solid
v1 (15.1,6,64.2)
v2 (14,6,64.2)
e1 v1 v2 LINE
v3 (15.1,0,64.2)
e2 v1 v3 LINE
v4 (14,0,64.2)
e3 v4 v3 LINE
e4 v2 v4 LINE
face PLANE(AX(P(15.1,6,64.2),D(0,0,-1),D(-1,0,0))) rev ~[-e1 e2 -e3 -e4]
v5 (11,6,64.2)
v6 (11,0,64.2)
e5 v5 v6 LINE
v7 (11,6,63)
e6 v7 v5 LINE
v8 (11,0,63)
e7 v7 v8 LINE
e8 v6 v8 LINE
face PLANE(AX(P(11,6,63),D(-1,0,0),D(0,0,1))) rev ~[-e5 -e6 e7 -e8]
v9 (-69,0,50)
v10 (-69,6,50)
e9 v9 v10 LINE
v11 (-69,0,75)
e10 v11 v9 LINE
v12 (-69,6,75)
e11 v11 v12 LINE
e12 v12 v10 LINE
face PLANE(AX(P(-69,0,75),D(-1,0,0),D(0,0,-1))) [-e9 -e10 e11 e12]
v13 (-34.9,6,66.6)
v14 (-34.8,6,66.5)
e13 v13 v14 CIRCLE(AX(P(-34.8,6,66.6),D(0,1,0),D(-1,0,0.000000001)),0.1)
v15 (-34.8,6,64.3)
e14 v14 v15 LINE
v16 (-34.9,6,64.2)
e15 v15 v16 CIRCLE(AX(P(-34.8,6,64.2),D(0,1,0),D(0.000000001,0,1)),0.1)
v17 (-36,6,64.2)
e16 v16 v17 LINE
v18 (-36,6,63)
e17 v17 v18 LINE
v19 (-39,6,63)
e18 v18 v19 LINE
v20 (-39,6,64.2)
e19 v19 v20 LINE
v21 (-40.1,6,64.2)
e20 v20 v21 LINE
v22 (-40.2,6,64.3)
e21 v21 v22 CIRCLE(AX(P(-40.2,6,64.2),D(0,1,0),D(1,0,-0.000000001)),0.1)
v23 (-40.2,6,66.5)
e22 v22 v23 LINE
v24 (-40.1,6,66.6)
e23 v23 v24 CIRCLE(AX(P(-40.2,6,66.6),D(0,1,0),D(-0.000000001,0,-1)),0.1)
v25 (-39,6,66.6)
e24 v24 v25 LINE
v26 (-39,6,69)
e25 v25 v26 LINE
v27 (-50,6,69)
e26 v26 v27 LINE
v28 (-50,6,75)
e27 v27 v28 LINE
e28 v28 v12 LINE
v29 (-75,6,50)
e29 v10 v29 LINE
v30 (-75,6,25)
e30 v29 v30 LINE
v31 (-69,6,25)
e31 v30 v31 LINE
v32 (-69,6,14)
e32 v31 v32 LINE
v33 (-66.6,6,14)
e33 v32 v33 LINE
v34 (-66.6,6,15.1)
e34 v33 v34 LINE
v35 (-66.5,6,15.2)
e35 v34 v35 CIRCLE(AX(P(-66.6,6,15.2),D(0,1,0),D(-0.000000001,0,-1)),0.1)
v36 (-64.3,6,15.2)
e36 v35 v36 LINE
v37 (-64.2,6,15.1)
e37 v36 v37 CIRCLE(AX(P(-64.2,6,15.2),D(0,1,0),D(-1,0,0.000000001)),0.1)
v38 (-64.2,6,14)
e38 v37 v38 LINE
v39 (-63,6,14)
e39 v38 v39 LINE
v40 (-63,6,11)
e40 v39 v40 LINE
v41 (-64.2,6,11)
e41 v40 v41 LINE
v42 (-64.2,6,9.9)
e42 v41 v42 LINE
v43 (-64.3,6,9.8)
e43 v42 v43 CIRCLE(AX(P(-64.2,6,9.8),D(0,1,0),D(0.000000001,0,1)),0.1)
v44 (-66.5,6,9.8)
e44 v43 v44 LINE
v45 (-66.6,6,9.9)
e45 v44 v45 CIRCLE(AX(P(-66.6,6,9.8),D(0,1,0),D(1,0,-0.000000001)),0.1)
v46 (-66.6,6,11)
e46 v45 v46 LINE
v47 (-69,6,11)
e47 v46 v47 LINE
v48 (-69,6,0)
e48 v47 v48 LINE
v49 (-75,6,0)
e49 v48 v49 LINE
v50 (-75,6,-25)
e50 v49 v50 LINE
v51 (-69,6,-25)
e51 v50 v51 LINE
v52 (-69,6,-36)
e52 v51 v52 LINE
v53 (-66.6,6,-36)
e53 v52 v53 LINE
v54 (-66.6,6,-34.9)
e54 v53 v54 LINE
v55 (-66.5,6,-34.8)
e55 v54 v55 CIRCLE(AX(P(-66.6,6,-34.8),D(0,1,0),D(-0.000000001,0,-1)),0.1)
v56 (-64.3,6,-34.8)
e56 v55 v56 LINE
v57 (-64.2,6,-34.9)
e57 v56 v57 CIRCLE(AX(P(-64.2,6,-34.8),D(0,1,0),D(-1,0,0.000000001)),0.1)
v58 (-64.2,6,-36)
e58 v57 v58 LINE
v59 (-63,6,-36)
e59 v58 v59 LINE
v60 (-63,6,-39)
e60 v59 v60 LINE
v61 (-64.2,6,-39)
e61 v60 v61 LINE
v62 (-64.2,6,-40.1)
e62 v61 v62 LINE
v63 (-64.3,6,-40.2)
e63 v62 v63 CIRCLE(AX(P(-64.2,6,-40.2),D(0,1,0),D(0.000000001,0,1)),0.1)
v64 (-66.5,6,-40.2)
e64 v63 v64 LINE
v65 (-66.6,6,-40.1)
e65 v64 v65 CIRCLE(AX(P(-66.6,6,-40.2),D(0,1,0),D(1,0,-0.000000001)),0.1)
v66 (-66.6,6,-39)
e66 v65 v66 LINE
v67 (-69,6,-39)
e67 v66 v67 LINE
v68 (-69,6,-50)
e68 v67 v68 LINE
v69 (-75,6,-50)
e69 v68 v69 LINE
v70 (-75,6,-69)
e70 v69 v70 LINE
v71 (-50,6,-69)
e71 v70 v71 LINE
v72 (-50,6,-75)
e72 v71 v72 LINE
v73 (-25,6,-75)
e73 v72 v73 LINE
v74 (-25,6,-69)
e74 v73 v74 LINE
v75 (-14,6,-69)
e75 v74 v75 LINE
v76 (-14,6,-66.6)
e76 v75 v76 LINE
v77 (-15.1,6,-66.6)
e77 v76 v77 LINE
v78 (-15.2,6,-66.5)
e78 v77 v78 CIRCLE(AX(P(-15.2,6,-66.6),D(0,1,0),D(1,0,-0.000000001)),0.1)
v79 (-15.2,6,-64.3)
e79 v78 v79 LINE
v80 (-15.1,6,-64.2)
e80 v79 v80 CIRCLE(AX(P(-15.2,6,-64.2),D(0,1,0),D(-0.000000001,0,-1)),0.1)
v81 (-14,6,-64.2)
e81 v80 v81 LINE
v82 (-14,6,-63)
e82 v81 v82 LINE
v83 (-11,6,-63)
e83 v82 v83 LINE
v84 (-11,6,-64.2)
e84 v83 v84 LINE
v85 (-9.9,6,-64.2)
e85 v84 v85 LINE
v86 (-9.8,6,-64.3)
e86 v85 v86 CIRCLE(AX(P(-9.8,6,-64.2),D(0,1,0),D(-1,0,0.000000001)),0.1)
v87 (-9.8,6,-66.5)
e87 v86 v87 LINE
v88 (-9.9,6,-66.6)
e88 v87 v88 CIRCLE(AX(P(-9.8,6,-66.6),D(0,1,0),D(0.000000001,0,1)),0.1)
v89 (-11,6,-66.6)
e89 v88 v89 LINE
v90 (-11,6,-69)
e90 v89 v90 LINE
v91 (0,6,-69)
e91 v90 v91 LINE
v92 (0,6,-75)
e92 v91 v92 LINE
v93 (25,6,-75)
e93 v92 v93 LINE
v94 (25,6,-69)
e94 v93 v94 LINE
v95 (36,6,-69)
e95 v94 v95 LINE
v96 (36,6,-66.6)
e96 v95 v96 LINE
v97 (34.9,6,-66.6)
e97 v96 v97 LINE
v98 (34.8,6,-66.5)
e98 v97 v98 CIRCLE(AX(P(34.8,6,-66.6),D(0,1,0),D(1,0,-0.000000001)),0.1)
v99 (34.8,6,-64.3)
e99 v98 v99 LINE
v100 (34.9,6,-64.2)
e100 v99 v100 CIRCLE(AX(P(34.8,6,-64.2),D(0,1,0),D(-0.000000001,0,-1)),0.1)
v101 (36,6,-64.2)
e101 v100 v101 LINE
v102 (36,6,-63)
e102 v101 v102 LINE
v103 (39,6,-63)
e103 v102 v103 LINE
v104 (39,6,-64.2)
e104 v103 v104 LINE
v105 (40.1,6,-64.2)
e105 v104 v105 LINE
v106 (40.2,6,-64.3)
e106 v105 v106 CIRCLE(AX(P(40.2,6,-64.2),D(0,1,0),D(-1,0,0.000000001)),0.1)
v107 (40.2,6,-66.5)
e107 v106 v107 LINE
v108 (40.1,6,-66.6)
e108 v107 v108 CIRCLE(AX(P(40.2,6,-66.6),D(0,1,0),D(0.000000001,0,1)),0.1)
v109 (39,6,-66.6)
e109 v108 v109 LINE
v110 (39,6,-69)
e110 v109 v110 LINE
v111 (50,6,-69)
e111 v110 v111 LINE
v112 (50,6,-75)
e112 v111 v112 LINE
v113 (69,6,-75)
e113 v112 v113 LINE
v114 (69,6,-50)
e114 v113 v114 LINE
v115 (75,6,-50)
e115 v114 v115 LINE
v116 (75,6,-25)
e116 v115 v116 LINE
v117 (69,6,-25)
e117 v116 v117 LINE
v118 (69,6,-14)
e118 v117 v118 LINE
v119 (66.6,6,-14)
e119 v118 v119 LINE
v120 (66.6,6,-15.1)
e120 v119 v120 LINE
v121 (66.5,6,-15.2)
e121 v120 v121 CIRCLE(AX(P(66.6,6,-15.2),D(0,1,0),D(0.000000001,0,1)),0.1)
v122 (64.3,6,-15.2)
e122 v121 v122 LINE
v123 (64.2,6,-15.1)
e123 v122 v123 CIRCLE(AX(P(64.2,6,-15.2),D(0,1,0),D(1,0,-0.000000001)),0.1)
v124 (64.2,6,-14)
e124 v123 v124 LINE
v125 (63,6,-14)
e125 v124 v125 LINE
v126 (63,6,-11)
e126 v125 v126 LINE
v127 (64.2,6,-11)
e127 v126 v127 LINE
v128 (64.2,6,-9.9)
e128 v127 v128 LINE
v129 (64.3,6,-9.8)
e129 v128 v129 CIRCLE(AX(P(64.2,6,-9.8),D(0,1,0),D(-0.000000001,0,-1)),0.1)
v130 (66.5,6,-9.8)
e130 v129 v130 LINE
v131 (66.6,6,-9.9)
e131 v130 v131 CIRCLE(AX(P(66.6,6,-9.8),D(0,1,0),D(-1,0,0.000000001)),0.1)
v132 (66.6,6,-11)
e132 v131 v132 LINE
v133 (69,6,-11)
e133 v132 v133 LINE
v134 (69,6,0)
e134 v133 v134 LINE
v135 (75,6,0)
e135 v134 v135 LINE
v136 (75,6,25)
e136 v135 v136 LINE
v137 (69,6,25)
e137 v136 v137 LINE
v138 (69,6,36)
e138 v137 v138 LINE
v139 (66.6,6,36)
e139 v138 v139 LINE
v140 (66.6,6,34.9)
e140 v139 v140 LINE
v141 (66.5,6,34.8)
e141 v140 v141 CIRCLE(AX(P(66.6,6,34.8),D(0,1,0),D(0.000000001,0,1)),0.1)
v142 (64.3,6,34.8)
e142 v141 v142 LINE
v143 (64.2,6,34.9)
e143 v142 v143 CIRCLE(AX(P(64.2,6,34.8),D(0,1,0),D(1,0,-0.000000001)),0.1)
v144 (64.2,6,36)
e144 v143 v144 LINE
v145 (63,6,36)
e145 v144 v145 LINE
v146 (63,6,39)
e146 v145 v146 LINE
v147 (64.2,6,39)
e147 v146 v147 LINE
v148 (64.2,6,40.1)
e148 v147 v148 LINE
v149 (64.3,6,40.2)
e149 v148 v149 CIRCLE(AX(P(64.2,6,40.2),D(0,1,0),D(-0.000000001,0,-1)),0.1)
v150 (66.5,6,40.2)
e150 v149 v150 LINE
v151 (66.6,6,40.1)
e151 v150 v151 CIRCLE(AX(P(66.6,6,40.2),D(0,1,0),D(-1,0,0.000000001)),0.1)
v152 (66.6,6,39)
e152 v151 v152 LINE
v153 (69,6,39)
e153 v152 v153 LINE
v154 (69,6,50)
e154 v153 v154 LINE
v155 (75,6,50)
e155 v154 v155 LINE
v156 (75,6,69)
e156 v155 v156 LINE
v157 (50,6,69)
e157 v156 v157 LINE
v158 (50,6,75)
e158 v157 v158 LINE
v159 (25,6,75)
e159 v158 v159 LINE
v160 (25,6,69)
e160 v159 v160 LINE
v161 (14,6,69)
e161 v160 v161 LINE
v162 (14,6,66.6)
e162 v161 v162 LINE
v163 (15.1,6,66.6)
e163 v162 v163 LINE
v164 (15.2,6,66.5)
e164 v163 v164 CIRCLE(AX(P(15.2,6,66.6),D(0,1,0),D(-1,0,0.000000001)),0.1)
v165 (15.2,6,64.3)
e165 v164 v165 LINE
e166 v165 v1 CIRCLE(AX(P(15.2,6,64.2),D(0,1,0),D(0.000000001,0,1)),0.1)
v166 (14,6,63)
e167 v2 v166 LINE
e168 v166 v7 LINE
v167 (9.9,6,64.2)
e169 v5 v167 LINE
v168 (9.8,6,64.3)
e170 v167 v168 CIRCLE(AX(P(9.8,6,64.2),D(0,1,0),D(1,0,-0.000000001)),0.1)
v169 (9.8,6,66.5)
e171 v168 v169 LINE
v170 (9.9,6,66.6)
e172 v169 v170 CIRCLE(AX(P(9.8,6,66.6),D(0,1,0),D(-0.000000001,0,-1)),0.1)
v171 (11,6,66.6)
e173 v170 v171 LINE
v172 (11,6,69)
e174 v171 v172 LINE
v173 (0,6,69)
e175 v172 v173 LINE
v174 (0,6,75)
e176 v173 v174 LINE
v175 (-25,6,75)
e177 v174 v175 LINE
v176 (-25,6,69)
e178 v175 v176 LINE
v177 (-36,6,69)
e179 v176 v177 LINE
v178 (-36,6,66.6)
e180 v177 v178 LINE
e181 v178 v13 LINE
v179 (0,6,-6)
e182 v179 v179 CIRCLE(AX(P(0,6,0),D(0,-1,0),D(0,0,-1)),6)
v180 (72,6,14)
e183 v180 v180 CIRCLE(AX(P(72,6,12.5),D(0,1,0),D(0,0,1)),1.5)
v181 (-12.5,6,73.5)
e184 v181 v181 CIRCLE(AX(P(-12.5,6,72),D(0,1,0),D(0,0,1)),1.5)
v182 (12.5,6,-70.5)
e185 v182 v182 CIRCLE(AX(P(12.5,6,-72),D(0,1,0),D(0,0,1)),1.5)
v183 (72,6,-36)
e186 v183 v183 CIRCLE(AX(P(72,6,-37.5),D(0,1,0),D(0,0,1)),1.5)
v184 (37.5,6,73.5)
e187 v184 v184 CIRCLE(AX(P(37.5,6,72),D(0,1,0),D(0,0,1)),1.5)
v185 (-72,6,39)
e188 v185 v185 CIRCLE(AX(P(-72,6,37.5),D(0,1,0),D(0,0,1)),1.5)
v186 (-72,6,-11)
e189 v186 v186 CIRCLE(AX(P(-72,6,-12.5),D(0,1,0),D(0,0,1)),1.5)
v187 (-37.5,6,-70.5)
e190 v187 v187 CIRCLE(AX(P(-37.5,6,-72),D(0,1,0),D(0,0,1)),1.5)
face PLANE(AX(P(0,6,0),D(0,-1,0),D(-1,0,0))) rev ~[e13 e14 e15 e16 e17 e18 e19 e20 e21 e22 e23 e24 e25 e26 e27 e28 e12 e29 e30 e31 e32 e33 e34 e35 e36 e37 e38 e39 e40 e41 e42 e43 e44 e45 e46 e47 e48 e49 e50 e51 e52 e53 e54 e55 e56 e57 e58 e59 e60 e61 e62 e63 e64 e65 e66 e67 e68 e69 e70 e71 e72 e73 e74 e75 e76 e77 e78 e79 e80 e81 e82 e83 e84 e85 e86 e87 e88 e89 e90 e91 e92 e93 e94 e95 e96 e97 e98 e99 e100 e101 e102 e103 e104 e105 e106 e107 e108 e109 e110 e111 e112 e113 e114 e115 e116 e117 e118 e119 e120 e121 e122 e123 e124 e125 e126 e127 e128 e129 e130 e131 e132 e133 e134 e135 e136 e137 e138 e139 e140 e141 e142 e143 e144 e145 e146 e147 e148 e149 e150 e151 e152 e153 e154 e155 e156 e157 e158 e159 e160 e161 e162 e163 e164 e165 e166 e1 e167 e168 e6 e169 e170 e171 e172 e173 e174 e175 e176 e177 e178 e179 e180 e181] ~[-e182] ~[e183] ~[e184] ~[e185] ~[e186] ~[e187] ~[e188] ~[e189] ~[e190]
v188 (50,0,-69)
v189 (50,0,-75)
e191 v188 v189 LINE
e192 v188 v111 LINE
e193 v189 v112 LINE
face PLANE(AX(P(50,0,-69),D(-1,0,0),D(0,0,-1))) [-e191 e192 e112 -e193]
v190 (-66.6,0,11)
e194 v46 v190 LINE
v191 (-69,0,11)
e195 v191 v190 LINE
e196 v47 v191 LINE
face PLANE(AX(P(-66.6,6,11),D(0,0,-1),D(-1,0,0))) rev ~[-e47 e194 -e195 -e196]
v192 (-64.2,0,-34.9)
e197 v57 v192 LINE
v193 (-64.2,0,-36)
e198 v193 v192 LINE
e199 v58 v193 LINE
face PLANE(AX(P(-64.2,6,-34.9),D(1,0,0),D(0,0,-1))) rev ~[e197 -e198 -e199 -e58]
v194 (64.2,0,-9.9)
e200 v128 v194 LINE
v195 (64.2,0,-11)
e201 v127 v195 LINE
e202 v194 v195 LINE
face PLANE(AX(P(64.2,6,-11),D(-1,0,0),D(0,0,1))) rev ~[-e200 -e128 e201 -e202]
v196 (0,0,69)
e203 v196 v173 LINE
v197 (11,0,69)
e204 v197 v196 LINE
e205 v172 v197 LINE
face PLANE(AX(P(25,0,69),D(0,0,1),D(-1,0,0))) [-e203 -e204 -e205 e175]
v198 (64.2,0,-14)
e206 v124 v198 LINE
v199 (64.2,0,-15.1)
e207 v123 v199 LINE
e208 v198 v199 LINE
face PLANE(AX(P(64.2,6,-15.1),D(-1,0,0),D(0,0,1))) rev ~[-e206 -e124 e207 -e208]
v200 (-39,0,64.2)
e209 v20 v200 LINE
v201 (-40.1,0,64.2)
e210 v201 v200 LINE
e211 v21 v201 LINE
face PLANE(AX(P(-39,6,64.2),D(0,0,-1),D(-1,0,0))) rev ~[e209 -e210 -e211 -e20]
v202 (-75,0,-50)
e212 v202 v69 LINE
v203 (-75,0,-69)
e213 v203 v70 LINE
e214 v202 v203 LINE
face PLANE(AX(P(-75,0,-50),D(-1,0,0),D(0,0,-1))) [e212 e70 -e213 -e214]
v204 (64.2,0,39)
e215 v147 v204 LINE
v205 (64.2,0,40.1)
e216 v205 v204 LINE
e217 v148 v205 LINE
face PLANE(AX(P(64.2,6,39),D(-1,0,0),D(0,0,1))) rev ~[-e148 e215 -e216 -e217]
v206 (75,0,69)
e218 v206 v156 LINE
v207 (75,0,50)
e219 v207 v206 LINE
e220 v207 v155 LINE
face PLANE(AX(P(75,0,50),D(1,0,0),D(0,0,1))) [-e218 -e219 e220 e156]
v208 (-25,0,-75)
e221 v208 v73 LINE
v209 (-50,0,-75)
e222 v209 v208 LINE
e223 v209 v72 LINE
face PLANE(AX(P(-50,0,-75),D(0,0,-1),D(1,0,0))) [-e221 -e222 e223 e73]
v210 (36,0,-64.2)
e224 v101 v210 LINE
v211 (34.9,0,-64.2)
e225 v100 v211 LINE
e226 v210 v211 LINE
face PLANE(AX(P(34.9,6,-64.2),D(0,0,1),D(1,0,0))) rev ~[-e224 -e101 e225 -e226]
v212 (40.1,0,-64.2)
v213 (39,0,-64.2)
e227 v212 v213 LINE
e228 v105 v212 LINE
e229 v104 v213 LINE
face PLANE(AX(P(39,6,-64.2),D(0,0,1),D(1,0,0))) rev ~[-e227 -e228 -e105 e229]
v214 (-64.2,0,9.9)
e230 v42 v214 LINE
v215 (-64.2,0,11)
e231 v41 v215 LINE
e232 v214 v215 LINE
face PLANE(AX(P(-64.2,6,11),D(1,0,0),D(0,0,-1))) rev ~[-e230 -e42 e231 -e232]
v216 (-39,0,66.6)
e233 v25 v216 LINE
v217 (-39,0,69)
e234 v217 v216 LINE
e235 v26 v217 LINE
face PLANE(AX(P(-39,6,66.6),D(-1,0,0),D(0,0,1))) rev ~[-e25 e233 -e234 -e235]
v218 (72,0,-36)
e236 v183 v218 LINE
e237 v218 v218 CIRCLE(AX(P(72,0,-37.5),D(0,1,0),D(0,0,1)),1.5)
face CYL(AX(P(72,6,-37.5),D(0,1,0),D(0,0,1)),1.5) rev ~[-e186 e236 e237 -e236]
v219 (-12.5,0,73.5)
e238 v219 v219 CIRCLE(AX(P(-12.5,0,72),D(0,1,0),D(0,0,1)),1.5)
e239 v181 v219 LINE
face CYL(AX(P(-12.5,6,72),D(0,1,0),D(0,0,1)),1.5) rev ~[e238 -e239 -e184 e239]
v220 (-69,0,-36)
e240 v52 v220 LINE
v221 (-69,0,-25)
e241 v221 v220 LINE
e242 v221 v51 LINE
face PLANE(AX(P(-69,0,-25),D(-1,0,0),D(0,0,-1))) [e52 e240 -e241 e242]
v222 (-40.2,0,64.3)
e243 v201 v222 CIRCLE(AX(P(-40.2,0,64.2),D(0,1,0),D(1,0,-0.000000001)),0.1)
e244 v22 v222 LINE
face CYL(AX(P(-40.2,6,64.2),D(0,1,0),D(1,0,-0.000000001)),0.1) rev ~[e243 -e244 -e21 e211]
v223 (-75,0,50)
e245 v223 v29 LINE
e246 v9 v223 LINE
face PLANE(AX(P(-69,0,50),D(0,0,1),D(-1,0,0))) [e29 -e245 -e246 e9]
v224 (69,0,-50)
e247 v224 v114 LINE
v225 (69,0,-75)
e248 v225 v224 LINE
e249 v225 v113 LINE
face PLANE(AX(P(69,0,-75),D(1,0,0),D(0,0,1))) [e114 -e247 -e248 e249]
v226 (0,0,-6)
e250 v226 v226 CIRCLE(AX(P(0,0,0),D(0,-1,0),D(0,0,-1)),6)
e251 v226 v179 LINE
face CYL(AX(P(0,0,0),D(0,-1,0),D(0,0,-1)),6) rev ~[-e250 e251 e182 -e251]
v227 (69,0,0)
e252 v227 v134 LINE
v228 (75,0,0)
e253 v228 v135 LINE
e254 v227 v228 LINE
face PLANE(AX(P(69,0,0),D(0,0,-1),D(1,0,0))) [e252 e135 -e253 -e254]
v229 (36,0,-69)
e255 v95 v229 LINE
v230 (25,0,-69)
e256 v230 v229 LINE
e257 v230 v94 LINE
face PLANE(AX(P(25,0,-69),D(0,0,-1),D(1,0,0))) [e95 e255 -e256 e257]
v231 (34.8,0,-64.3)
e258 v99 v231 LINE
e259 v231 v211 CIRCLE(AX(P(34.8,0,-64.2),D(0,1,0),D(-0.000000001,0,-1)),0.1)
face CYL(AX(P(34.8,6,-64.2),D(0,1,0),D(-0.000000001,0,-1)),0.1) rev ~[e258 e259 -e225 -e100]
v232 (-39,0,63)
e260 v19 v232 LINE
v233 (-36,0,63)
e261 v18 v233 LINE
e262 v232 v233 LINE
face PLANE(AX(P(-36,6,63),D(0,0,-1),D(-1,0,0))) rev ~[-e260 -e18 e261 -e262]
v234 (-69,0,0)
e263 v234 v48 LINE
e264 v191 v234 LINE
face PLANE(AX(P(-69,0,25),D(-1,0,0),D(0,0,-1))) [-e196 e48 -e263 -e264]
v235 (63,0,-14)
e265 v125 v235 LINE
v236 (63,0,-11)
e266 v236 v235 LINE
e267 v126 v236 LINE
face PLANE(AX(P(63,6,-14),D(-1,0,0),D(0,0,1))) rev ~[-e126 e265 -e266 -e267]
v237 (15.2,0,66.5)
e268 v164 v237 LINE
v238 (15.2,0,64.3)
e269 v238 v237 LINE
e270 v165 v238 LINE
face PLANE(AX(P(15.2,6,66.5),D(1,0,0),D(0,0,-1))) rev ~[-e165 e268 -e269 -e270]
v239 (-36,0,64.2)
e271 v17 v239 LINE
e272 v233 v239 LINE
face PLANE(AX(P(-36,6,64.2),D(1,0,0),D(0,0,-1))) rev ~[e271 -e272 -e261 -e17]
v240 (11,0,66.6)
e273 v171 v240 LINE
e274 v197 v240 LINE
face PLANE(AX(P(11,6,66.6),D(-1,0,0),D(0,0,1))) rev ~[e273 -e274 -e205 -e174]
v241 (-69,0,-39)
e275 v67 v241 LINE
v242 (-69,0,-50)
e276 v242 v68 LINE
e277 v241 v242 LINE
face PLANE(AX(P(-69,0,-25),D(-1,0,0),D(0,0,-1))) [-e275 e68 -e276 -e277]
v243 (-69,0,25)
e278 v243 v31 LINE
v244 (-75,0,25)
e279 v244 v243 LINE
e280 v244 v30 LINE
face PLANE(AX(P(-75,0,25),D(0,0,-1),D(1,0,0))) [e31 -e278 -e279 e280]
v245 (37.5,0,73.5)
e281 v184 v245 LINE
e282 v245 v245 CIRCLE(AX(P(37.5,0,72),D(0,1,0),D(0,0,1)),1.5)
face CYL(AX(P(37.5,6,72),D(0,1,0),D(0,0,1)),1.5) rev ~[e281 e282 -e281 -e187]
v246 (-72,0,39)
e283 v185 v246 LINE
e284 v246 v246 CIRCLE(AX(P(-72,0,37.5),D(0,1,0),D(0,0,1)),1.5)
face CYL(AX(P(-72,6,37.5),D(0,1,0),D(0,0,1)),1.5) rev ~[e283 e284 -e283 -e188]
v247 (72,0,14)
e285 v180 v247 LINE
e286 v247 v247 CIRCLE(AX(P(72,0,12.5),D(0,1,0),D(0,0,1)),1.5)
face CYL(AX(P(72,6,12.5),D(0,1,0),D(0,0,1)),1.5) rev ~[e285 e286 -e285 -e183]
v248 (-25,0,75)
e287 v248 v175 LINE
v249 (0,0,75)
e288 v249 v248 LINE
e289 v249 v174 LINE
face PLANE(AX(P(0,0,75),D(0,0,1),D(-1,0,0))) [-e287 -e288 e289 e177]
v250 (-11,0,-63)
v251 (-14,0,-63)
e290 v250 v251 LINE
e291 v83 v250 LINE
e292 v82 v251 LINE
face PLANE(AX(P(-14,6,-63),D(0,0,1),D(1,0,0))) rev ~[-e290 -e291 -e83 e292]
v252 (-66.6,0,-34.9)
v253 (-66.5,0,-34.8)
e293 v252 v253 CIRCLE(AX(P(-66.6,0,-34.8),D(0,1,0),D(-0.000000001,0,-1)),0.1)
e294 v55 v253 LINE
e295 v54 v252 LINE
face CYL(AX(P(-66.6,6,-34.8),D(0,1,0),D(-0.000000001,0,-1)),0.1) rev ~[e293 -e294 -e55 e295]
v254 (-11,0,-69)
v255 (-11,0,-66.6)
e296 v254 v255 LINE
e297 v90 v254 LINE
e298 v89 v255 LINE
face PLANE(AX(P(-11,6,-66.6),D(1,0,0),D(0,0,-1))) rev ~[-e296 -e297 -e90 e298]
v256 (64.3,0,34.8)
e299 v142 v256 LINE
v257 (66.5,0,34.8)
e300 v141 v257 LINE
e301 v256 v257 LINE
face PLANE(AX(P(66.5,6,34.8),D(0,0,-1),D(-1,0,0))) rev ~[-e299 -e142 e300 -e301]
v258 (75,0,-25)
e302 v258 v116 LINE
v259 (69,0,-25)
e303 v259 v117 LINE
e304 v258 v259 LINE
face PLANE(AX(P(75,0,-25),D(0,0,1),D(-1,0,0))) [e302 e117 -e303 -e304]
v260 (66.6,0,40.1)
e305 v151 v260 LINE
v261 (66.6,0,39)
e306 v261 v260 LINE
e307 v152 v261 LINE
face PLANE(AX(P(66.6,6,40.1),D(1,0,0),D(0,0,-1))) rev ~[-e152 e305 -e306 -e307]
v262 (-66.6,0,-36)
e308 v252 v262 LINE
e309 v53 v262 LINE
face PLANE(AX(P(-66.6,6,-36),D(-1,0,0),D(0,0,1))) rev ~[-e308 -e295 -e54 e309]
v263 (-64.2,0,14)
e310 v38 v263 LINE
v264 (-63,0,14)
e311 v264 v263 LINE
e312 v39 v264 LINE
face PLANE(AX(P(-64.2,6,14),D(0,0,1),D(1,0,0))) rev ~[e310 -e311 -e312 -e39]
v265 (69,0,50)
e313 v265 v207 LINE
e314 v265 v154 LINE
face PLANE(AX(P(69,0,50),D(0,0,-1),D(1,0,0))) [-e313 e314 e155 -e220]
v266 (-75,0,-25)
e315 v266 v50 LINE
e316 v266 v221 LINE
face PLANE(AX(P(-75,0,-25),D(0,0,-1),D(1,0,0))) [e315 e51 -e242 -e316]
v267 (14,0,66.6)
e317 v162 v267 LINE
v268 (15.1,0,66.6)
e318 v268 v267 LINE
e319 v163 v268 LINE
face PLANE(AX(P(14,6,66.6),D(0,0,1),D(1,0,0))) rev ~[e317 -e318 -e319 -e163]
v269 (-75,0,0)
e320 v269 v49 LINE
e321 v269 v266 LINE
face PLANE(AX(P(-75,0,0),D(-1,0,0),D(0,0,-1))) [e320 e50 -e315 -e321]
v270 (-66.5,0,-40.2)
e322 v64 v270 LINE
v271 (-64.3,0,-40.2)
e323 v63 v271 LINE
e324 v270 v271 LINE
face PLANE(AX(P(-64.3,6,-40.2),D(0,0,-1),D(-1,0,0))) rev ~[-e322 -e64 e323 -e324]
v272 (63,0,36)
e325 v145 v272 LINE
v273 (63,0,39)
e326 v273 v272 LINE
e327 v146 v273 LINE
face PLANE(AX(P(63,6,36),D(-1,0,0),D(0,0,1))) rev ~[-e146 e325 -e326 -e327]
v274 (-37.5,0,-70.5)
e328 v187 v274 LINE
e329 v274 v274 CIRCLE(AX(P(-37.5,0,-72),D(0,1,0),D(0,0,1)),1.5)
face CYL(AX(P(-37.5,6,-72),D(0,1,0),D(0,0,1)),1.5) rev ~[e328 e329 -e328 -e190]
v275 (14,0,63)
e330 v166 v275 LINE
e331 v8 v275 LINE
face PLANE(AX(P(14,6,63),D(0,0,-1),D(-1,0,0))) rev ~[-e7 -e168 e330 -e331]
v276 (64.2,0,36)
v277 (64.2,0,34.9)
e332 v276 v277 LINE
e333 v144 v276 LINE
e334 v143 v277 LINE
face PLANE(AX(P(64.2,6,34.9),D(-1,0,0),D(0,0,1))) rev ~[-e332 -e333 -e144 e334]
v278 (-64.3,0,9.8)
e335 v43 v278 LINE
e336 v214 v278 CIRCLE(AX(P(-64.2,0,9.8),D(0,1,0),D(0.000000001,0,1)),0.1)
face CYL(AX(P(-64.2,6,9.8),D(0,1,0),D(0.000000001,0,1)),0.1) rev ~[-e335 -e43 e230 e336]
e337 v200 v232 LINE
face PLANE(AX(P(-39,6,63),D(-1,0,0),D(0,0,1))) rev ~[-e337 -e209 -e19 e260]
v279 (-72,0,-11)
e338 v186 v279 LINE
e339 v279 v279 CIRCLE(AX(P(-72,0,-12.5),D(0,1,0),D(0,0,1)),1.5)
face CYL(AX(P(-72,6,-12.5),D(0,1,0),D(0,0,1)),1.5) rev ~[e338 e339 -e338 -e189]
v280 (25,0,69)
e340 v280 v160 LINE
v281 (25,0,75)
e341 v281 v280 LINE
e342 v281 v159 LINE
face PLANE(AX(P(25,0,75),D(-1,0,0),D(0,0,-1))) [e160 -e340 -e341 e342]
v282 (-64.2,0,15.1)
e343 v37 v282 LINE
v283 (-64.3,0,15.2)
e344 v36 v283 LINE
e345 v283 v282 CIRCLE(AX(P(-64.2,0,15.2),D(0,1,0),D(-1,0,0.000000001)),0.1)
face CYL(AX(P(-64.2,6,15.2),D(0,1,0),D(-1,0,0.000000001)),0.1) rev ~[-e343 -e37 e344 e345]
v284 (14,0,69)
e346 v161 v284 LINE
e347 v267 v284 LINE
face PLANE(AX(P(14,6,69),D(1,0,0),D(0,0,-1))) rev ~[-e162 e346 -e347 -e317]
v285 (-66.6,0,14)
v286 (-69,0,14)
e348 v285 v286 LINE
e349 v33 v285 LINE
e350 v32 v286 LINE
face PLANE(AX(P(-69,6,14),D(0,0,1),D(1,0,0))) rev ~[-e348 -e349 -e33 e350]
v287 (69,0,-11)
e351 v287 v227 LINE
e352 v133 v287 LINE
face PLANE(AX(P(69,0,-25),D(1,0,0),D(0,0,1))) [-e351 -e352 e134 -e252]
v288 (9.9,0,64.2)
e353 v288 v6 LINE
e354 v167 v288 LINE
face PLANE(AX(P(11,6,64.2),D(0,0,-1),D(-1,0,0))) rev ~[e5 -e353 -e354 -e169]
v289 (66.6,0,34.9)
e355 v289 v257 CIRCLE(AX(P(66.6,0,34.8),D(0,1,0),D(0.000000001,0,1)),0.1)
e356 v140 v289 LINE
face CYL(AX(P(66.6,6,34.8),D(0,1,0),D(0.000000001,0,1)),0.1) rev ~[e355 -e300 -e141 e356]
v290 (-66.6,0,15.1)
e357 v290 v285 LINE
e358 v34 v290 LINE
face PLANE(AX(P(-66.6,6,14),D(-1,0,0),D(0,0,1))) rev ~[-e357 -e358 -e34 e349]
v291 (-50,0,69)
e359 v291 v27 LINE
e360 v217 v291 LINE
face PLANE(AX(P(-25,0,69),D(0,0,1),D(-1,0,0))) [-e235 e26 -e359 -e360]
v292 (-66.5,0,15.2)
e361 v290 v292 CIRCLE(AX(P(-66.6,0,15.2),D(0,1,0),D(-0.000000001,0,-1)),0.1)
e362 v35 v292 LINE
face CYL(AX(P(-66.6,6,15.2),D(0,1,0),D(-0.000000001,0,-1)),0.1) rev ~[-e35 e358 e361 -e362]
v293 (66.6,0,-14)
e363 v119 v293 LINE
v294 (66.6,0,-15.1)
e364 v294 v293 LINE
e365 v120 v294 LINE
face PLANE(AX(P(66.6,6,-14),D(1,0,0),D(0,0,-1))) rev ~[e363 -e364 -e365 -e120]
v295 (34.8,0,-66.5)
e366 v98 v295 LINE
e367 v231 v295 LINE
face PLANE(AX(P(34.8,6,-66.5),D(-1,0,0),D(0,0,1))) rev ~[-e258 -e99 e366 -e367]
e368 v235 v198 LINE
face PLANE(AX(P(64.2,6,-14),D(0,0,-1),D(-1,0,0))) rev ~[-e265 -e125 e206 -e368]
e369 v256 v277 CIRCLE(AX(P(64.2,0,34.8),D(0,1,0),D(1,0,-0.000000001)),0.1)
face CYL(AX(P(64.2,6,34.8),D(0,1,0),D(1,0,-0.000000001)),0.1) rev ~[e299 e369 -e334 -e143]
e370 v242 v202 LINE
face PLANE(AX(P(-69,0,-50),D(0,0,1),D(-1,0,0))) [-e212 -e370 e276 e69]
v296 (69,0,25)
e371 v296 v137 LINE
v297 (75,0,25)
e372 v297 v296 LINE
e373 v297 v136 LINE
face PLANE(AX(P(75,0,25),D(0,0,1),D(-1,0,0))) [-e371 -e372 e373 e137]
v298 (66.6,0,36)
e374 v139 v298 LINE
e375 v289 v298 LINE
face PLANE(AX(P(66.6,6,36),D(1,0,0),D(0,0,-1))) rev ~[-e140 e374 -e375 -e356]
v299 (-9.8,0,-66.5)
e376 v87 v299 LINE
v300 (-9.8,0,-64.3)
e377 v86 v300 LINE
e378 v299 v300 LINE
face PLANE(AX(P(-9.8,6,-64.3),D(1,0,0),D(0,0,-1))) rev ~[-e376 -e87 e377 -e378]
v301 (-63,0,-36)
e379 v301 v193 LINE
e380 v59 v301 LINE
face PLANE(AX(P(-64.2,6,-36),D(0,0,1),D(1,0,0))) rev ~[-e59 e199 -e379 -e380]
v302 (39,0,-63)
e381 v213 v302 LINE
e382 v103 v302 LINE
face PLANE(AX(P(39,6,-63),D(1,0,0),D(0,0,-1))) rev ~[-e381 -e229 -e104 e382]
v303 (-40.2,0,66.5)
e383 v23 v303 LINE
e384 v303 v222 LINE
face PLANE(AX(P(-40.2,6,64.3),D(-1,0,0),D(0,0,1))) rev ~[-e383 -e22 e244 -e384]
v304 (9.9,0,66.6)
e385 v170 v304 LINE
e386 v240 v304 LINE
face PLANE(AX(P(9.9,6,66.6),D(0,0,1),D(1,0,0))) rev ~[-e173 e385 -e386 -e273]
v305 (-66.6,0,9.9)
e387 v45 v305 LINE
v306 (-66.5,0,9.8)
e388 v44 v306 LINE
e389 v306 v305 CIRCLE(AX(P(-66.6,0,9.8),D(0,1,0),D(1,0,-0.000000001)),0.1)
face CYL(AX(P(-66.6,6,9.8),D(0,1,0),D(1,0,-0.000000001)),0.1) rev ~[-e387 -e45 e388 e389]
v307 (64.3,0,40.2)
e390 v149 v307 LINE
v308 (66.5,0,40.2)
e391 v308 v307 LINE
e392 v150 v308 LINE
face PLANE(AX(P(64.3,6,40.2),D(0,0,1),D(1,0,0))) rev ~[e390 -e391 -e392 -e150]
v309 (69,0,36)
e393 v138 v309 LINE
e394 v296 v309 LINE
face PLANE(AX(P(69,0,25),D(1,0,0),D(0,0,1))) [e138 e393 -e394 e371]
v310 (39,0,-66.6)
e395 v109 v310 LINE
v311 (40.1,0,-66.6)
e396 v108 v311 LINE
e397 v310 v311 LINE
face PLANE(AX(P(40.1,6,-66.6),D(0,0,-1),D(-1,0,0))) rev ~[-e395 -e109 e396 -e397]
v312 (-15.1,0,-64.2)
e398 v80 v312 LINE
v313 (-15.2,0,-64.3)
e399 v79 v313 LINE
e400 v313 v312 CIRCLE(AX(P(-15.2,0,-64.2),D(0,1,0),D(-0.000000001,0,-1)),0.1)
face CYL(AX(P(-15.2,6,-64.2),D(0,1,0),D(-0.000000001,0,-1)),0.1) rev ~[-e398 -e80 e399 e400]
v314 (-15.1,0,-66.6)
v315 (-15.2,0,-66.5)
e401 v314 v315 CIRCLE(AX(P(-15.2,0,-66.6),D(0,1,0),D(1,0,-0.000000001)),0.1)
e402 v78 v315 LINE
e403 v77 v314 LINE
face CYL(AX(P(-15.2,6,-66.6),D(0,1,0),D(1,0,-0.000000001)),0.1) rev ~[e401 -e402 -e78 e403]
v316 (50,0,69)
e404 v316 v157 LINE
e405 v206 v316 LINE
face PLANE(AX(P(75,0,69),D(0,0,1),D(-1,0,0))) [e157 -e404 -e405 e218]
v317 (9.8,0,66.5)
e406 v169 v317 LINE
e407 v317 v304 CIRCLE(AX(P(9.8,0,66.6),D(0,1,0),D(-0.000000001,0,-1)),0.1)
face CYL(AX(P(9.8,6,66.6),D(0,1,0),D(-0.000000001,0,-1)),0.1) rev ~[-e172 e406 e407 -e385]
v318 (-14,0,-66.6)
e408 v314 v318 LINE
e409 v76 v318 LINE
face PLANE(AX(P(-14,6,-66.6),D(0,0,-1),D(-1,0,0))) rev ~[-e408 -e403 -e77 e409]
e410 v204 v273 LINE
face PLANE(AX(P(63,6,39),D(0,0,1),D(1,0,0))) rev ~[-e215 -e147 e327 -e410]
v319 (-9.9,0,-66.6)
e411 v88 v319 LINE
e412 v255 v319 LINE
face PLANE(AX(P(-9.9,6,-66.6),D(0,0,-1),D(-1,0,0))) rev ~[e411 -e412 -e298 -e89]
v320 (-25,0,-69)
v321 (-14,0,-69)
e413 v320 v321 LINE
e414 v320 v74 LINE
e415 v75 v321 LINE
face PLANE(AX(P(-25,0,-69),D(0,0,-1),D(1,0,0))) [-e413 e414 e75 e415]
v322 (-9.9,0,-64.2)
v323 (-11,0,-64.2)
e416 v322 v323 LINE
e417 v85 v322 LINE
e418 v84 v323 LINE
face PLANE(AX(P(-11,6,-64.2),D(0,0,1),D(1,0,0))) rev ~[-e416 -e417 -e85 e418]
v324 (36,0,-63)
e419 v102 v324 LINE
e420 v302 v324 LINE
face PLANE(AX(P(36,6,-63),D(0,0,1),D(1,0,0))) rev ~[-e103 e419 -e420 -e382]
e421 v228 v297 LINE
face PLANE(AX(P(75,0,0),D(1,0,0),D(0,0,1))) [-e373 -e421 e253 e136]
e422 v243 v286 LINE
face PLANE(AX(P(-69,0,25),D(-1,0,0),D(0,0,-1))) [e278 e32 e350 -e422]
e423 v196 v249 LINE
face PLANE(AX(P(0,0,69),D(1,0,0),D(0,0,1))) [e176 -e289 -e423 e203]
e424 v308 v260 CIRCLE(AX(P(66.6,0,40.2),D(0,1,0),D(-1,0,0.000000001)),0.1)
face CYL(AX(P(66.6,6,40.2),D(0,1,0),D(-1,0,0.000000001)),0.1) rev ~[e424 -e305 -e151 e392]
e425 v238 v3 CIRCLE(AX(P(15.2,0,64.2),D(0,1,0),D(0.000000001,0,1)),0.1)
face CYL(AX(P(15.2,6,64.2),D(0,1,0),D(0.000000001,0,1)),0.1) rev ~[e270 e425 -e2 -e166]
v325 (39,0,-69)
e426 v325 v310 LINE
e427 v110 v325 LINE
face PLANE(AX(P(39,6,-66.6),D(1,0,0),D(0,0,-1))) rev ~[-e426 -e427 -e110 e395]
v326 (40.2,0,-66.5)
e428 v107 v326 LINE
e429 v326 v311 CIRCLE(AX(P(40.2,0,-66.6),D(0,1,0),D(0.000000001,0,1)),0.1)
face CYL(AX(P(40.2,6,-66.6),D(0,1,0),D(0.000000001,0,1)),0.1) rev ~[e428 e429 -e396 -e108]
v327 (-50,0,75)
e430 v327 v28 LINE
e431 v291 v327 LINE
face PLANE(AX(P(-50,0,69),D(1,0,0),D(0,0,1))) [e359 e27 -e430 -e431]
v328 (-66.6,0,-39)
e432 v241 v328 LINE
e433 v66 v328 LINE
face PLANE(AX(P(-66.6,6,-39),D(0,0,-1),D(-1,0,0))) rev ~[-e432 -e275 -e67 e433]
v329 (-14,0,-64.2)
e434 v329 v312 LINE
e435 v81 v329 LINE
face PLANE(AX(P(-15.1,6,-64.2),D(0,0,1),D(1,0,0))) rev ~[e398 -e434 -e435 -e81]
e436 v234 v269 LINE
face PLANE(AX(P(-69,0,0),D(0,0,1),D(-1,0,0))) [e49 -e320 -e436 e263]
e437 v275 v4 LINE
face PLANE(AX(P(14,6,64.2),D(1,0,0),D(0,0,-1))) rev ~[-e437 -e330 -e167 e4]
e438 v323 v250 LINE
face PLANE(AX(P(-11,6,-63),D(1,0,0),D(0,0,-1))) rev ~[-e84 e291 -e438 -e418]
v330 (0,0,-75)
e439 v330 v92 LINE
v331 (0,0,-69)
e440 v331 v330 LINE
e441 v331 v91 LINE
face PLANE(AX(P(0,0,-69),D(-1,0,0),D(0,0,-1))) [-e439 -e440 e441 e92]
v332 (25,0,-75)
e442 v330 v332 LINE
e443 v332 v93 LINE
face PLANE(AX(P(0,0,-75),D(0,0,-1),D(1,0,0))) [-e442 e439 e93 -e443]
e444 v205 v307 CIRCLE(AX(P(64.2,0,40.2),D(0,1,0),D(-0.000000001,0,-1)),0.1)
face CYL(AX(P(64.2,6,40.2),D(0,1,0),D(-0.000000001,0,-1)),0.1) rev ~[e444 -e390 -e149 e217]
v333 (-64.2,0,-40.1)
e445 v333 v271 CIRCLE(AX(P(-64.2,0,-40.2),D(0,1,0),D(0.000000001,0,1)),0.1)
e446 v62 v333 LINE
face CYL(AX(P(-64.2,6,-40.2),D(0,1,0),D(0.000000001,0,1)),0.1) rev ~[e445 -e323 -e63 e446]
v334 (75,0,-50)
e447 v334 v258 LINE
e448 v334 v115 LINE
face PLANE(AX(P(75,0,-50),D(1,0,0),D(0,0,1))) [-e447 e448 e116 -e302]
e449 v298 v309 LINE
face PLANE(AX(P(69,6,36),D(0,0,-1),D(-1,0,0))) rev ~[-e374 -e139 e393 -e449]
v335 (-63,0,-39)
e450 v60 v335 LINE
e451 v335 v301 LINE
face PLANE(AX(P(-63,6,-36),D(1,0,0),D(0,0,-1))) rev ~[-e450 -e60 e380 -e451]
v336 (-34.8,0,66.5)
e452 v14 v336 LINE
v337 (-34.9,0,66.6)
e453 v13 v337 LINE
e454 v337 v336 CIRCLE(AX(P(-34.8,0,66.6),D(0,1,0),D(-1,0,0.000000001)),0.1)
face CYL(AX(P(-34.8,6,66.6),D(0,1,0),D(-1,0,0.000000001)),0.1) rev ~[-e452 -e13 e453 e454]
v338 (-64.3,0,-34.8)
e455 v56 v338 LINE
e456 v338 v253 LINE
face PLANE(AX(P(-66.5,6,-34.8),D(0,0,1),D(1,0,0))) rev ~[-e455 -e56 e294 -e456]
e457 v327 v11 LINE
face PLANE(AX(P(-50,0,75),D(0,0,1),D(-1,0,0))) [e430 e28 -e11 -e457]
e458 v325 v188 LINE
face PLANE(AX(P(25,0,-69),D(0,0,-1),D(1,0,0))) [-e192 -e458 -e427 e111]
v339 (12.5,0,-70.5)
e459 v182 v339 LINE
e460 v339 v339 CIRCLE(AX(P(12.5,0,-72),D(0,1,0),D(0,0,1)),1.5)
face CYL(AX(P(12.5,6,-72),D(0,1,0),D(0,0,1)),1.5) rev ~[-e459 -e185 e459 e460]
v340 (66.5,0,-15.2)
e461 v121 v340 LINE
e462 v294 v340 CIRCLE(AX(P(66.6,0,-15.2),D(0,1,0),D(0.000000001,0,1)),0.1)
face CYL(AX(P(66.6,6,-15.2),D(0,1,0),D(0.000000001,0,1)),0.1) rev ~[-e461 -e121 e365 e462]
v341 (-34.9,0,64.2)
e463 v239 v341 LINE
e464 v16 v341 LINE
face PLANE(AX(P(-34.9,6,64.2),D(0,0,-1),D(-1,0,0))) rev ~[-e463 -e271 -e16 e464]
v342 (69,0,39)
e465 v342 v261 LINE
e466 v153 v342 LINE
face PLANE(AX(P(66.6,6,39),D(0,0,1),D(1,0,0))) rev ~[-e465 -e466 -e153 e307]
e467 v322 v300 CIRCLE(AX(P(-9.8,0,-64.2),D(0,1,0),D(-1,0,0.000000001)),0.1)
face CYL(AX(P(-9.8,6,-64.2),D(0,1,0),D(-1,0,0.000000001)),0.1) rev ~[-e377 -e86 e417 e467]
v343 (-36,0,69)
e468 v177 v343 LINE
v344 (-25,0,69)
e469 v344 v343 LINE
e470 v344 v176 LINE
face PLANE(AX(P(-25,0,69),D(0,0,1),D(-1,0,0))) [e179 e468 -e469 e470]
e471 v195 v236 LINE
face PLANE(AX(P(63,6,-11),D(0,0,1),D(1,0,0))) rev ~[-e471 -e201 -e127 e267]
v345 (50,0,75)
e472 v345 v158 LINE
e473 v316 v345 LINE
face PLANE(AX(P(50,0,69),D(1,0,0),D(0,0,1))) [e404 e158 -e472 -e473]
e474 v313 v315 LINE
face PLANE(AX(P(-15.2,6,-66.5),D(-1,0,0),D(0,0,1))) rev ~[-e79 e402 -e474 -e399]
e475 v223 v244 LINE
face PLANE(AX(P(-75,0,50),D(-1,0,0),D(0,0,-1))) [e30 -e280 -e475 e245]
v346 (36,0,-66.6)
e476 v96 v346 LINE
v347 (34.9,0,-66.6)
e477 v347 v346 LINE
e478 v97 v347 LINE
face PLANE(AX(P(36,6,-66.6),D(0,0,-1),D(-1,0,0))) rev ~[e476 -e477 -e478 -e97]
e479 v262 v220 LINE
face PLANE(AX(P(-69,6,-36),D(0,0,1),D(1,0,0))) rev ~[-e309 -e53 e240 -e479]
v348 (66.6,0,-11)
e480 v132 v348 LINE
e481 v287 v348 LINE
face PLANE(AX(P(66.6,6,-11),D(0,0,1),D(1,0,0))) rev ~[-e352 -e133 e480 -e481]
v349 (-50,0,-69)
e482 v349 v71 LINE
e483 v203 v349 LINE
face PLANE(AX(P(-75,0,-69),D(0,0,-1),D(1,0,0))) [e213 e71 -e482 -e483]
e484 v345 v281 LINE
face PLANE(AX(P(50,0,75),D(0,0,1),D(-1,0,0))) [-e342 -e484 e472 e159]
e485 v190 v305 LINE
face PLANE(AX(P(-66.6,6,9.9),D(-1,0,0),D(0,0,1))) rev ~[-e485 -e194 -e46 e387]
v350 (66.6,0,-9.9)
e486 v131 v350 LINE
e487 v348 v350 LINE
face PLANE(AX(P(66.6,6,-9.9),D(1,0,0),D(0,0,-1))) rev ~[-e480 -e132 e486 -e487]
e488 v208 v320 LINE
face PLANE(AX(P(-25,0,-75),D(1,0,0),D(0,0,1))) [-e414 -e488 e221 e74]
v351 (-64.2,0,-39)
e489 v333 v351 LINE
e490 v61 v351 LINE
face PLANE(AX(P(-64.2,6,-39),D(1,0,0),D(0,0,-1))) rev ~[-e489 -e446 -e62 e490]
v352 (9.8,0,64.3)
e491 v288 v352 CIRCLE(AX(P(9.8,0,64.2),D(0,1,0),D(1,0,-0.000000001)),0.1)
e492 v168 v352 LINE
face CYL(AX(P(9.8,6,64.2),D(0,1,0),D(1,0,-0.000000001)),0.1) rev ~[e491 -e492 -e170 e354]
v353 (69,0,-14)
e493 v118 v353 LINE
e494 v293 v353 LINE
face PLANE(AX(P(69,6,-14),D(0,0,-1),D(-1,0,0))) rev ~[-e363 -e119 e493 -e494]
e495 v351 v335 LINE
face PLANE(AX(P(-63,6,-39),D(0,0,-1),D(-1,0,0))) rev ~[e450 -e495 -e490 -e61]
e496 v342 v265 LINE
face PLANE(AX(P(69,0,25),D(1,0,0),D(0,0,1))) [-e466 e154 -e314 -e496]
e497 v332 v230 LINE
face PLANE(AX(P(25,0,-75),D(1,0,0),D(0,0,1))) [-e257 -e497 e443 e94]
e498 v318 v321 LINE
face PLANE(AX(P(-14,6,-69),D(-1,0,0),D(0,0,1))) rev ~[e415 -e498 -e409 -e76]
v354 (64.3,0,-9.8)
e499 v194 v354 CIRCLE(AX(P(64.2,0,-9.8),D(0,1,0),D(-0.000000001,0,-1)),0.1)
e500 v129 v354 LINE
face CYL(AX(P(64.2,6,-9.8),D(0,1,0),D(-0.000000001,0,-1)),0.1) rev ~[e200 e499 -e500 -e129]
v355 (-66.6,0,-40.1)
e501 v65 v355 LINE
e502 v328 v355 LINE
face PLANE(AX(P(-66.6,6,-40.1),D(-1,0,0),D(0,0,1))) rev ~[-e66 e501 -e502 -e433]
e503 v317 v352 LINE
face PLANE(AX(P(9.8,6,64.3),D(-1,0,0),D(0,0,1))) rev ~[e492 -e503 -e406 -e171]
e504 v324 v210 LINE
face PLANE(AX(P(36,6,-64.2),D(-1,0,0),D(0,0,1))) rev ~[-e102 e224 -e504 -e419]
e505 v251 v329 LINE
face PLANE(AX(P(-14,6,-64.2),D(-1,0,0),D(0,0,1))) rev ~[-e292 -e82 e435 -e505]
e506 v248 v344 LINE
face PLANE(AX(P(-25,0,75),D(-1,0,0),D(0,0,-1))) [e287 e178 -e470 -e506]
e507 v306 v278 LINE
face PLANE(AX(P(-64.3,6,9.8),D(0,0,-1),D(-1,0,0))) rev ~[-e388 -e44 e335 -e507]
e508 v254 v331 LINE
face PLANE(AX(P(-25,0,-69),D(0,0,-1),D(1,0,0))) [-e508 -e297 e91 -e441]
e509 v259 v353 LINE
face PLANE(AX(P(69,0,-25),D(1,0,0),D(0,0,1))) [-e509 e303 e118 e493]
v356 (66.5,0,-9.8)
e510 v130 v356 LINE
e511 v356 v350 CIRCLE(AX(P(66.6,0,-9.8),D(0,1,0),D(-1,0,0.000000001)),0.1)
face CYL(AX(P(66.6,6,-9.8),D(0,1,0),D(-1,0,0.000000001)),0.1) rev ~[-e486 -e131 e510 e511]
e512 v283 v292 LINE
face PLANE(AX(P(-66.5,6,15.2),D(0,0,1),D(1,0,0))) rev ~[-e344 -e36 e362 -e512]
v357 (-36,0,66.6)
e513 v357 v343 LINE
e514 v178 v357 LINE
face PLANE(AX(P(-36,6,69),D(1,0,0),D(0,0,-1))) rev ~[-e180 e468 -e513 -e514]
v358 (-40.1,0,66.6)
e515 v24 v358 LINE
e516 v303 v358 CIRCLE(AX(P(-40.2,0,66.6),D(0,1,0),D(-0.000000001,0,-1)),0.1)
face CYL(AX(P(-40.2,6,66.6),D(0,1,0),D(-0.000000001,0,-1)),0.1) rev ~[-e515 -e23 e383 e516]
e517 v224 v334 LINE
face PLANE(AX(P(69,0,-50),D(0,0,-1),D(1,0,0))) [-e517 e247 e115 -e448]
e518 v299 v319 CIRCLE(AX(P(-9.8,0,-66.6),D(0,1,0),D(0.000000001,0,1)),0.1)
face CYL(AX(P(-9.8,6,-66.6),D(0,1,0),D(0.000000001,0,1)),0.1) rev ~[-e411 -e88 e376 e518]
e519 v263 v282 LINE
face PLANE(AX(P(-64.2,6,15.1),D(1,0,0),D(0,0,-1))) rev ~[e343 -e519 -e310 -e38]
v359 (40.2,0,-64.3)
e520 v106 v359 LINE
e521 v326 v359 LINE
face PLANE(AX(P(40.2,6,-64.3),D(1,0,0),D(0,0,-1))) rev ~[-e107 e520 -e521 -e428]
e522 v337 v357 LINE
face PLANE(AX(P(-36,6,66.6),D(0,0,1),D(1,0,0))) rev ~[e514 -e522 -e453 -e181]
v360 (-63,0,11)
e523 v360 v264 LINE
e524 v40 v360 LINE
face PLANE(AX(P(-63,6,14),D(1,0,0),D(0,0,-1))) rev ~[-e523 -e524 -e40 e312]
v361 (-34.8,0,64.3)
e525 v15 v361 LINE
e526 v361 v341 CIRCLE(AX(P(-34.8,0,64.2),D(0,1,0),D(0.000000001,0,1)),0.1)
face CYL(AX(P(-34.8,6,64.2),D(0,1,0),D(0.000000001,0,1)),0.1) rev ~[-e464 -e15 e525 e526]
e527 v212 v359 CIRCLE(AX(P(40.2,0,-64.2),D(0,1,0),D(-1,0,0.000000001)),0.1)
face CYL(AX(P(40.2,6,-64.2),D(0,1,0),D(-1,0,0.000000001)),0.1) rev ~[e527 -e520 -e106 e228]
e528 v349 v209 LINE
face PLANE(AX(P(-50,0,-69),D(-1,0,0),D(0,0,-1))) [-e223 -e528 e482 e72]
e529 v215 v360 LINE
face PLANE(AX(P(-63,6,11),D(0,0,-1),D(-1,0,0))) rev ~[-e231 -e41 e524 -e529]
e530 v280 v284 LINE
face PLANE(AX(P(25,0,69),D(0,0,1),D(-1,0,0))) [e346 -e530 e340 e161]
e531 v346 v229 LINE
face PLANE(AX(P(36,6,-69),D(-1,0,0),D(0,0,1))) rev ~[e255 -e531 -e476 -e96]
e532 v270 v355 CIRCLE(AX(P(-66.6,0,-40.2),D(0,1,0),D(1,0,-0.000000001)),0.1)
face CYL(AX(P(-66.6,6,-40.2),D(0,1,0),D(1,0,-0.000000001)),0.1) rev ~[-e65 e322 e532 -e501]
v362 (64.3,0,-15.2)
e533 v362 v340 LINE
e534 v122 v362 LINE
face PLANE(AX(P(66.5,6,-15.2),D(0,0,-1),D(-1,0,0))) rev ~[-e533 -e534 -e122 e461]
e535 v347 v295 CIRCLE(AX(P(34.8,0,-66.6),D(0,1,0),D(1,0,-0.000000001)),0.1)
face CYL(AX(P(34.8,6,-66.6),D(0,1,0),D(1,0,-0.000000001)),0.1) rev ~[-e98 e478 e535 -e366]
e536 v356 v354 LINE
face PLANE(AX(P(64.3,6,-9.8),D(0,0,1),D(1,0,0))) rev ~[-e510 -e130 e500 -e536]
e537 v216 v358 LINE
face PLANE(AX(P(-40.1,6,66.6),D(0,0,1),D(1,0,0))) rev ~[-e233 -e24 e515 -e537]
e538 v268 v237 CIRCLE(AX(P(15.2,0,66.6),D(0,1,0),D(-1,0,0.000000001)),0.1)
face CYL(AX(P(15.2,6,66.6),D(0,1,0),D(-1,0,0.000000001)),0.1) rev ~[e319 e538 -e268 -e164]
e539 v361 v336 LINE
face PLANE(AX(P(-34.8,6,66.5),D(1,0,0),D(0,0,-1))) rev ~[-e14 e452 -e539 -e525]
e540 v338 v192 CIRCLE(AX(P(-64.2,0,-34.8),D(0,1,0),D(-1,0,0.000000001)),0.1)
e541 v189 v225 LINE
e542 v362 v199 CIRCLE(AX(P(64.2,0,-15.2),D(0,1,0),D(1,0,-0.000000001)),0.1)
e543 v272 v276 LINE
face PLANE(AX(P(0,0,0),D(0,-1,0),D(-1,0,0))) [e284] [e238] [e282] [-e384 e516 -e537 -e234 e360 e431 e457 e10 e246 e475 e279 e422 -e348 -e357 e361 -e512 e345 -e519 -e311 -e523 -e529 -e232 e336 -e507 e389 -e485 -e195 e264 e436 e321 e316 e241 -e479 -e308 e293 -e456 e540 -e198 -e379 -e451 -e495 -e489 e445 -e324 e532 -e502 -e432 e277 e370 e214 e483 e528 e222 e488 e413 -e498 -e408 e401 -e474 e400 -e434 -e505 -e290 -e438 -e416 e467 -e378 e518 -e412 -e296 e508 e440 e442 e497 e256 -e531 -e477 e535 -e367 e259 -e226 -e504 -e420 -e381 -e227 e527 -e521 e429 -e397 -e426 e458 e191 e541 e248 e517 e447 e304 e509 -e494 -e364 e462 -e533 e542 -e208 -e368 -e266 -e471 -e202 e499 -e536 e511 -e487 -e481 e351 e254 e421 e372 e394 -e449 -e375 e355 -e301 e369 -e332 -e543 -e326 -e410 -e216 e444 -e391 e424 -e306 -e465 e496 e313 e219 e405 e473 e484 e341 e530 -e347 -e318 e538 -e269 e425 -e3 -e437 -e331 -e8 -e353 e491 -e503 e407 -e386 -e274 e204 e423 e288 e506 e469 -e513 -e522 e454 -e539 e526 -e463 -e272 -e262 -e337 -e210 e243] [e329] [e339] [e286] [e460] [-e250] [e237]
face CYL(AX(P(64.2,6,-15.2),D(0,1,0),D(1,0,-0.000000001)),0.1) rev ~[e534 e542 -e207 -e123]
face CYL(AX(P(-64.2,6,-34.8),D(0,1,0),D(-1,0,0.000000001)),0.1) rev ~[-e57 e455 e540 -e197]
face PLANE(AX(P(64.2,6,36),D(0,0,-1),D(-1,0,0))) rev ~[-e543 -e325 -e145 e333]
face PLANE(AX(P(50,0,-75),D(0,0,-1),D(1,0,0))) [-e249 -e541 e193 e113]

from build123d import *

# Parameters (mm, degrees)
BOSS_EXTRUDE1_DEPTH = 6
SKETCH2_R           = 1.5
CUT_EXTRUDE1_DEPTH  = 107.235587258
SKETCH3_R           = 6
CUT_EXTRUDE2_DEPTH  = 107.235587258


with BuildPart() as part:
    # Sketch1 → Boss-Extrude1 (new body)
    with BuildSketch(Plane(origin=(0, 0, 0), x_dir=(1, 0, 0), z_dir=(0, 1, 0))):
        Polygon((0, 75), (25, 75), (25, 69), (50, 69), (50, 75), (69, 75), (69, 50), (75, 50), (75, 25), (69, 25), (69, 0), (75, 0), (75, -25), (69, -25), (69, -50), (75, -50), (75, -69), (50, -69), (50, -75), (25, -75), (25, -69), (0, -69), (0, -75), (-25, -75), (-25, -69), (-50, -69), (-50, -75), (-69, -75), (-69, -50), (-75, -50), (-75, -25), (-69, -25), (-69, 0), (-75, 0), (-75, 25), (-69, 25), (-69, 50), (-75, 50), (-75, 69), (-50, 69), (-50, 75), (-25, 75), (-25, 69), (0, 69), align=None)
    extrude(amount=BOSS_EXTRUDE1_DEPTH)

    # Sketch2 → Cut-Extrude1 (cut, through all)
    with BuildSketch(Plane(origin=(0, 6, 0), x_dir=(1, 0, 0), z_dir=(0, 1, 0))):
        with Locations(Location((-37.5, 72, 0), (0, 0, 270))):
            Circle(SKETCH2_R)
        with Locations(Location((12.5, 72, 0), (0, 0, 270))):
            Circle(SKETCH2_R)
        with Locations(Location((72, 37.5, 0), (0, 0, 270))):
            Circle(SKETCH2_R)
        with Locations(Location((72, -12.5, 0), (0, 0, 270))):
            Circle(SKETCH2_R)
        with Locations(Location((37.5, -72, 0), (0, 0, 270))):
            Circle(SKETCH2_R)
        with Locations(Location((-12.5, -72, 0), (0, 0, 270))):
            Circle(SKETCH2_R)
        with Locations(Location((-72, -37.5, 0), (0, 0, 270))):
            Circle(SKETCH2_R)
        with Locations(Location((-72, 12.5, 0), (0, 0, 270))):
            Circle(SKETCH2_R)
        with BuildLine():
            Line((-11, 69), (-14, 69))
            Line((-14, 69), (-14, 66.6))
            Line((-14, 66.6), (-15.1, 66.6))
            ThreePointArc((-15.1, 66.6), (-15.270710678, 66.670710678), (-15.2, 66.5))
            Line((-15.2, 66.5), (-15.2, 64.3))
            ThreePointArc((-15.2, 64.3), (-15.270710678, 64.129289322), (-15.1, 64.2))
            Line((-15.1, 64.2), (-14, 64.2))
            Line((-14, 64.2), (-14, 63))
            Line((-14, 63), (-11, 63))
            Line((-11, 63), (-11, 64.2))
            Line((-11, 64.2), (-9.9, 64.2))
            ThreePointArc((-9.9, 64.2), (-9.729289322, 64.129289322), (-9.8, 64.3))
            Line((-9.8, 64.3), (-9.8, 66.5))
            ThreePointArc((-9.8, 66.5), (-9.729289322, 66.670710678), (-9.9, 66.6))
            Line((-9.9, 66.6), (-11, 66.6))
            Line((-11, 66.6), (-11, 69))
        make_face()
        with BuildLine():
            Line((69, 11), (69, 14))
            Line((69, 14), (66.6, 14))
            Line((66.6, 14), (66.6, 15.1))
            ThreePointArc((66.6, 15.1), (66.670710678, 15.270710678), (66.5, 15.2))
            Line((66.5, 15.2), (64.3, 15.2))
            ThreePointArc((64.3, 15.2), (64.129289322, 15.270710678), (64.2, 15.1))
            Line((64.2, 15.1), (64.2, 14))
            Line((64.2, 14), (63, 14))
            Line((63, 14), (63, 11))
            Line((63, 11), (64.2, 11))
            Line((64.2, 11), (64.2, 9.9))
            ThreePointArc((64.2, 9.9), (64.129289322, 9.729289322), (64.3, 9.8))
            Line((64.3, 9.8), (66.5, 9.8))
            ThreePointArc((66.5, 9.8), (66.670710678, 9.729289322), (66.6, 9.9))
            Line((66.6, 9.9), (66.6, 11))
            Line((66.6, 11), (69, 11))
        make_face()
        with BuildLine():
            Line((39, 69), (36, 69))
            Line((36, 69), (36, 66.6))
            Line((36, 66.6), (34.9, 66.6))
            ThreePointArc((34.9, 66.6), (34.729289322, 66.670710678), (34.8, 66.5))
            Line((34.8, 66.5), (34.8, 64.3))
            ThreePointArc((34.8, 64.3), (34.729289322, 64.129289322), (34.9, 64.2))
            Line((34.9, 64.2), (36, 64.2))
            Line((36, 64.2), (36, 63))
            Line((36, 63), (39, 63))
            Line((39, 63), (39, 64.2))
            Line((39, 64.2), (40.1, 64.2))
            ThreePointArc((40.1, 64.2), (40.270710678, 64.129289322), (40.2, 64.3))
            Line((40.2, 64.3), (40.2, 66.5))
            ThreePointArc((40.2, 66.5), (40.270710678, 66.670710678), (40.1, 66.6))
            Line((40.1, 66.6), (39, 66.6))
            Line((39, 66.6), (39, 69))
        make_face()
        with BuildLine():
            Line((69, -39), (69, -36))
            Line((69, -36), (66.6, -36))
            Line((66.6, -36), (66.6, -34.9))
            ThreePointArc((66.6, -34.9), (66.670710678, -34.729289322), (66.5, -34.8))
            Line((66.5, -34.8), (64.3, -34.8))
            ThreePointArc((64.3, -34.8), (64.129289322, -34.729289322), (64.2, -34.9))
            Line((64.2, -34.9), (64.2, -36))
            Line((64.2, -36), (63, -36))
            Line((63, -36), (63, -39))
            Line((63, -39), (64.2, -39))
            Line((64.2, -39), (64.2, -40.1))
            ThreePointArc((64.2, -40.1), (64.129289322, -40.270710678), (64.3, -40.2))
            Line((64.3, -40.2), (66.5, -40.2))
            ThreePointArc((66.5, -40.2), (66.670710678, -40.270710678), (66.6, -40.1))
            Line((66.6, -40.1), (66.6, -39))
            Line((66.6, -39), (69, -39))
        make_face()
        with BuildLine():
            Line((11, -69), (14, -69))
            Line((14, -69), (14, -66.6))
            Line((14, -66.6), (15.1, -66.6))
            ThreePointArc((15.1, -66.6), (15.270710678, -66.670710678), (15.2, -66.5))
            Line((15.2, -66.5), (15.2, -64.3))
            ThreePointArc((15.2, -64.3), (15.270710678, -64.129289322), (15.1, -64.2))
            Line((15.1, -64.2), (14, -64.2))
            Line((14, -64.2), (14, -63))
            Line((14, -63), (11, -63))
            Line((11, -63), (11, -64.2))
            Line((11, -64.2), (9.9, -64.2))
            ThreePointArc((9.9, -64.2), (9.729289322, -64.129289322), (9.8, -64.3))
            Line((9.8, -64.3), (9.8, -66.5))
            ThreePointArc((9.8, -66.5), (9.729289322, -66.670710678), (9.9, -66.6))
            Line((9.9, -66.6), (11, -66.6))
            Line((11, -66.6), (11, -69))
        make_face()
        with BuildLine():
            Line((-39, -69), (-36, -69))
            Line((-36, -69), (-36, -66.6))
            Line((-36, -66.6), (-34.9, -66.6))
            ThreePointArc((-34.9, -66.6), (-34.729289322, -66.670710678), (-34.8, -66.5))
            Line((-34.8, -66.5), (-34.8, -64.3))
            ThreePointArc((-34.8, -64.3), (-34.729289322, -64.129289322), (-34.9, -64.2))
            Line((-34.9, -64.2), (-36, -64.2))
            Line((-36, -64.2), (-36, -63))
            Line((-36, -63), (-39, -63))
            Line((-39, -63), (-39, -64.2))
            Line((-39, -64.2), (-40.1, -64.2))
            ThreePointArc((-40.1, -64.2), (-40.270710678, -64.129289322), (-40.2, -64.3))
            Line((-40.2, -64.3), (-40.2, -66.5))
            ThreePointArc((-40.2, -66.5), (-40.270710678, -66.670710678), (-40.1, -66.6))
            Line((-40.1, -66.6), (-39, -66.6))
            Line((-39, -66.6), (-39, -69))
        make_face()
        with BuildLine():
            Line((-69, 39), (-69, 36))
            Line((-69, 36), (-66.6, 36))
            Line((-66.6, 36), (-66.6, 34.9))
            ThreePointArc((-66.6, 34.9), (-66.670710678, 34.729289322), (-66.5, 34.8))
            Line((-66.5, 34.8), (-64.3, 34.8))
            ThreePointArc((-64.3, 34.8), (-64.129289322, 34.729289322), (-64.2, 34.9))
            Line((-64.2, 34.9), (-64.2, 36))
            Line((-64.2, 36), (-63, 36))
            Line((-63, 36), (-63, 39))
            Line((-63, 39), (-64.2, 39))
            Line((-64.2, 39), (-64.2, 40.1))
            ThreePointArc((-64.2, 40.1), (-64.129289322, 40.270710678), (-64.3, 40.2))
            Line((-64.3, 40.2), (-66.5, 40.2))
            ThreePointArc((-66.5, 40.2), (-66.670710678, 40.270710678), (-66.6, 40.1))
            Line((-66.6, 40.1), (-66.6, 39))
            Line((-66.6, 39), (-69, 39))
        make_face()
        with BuildLine():
            Line((-69, -11), (-69, -14))
            Line((-69, -14), (-66.6, -14))
            Line((-66.6, -14), (-66.6, -15.1))
            ThreePointArc((-66.6, -15.1), (-66.670710678, -15.270710678), (-66.5, -15.2))
            Line((-66.5, -15.2), (-64.3, -15.2))
            ThreePointArc((-64.3, -15.2), (-64.129289322, -15.270710678), (-64.2, -15.1))
            Line((-64.2, -15.1), (-64.2, -14))
            Line((-64.2, -14), (-63, -14))
            Line((-63, -14), (-63, -11))
            Line((-63, -11), (-64.2, -11))
            Line((-64.2, -11), (-64.2, -9.9))
            ThreePointArc((-64.2, -9.9), (-64.129289322, -9.729289322), (-64.3, -9.8))
            Line((-64.3, -9.8), (-66.5, -9.8))
            ThreePointArc((-66.5, -9.8), (-66.670710678, -9.729289322), (-66.6, -9.9))
            Line((-66.6, -9.9), (-66.6, -11))
            Line((-66.6, -11), (-69, -11))
        make_face()
    extrude(amount=-CUT_EXTRUDE1_DEPTH, mode=Mode.SUBTRACT)

    # Sketch3 → Cut-Extrude2 (cut, through all)
    with BuildSketch(Plane.XZ):
        with Locations(Location((0, 0, 0), (0, 0, 270))):
            Circle(SKETCH3_R)
    extrude(amount=-CUT_EXTRUDE2_DEPTH, mode=Mode.SUBTRACT)


solid = part.part
